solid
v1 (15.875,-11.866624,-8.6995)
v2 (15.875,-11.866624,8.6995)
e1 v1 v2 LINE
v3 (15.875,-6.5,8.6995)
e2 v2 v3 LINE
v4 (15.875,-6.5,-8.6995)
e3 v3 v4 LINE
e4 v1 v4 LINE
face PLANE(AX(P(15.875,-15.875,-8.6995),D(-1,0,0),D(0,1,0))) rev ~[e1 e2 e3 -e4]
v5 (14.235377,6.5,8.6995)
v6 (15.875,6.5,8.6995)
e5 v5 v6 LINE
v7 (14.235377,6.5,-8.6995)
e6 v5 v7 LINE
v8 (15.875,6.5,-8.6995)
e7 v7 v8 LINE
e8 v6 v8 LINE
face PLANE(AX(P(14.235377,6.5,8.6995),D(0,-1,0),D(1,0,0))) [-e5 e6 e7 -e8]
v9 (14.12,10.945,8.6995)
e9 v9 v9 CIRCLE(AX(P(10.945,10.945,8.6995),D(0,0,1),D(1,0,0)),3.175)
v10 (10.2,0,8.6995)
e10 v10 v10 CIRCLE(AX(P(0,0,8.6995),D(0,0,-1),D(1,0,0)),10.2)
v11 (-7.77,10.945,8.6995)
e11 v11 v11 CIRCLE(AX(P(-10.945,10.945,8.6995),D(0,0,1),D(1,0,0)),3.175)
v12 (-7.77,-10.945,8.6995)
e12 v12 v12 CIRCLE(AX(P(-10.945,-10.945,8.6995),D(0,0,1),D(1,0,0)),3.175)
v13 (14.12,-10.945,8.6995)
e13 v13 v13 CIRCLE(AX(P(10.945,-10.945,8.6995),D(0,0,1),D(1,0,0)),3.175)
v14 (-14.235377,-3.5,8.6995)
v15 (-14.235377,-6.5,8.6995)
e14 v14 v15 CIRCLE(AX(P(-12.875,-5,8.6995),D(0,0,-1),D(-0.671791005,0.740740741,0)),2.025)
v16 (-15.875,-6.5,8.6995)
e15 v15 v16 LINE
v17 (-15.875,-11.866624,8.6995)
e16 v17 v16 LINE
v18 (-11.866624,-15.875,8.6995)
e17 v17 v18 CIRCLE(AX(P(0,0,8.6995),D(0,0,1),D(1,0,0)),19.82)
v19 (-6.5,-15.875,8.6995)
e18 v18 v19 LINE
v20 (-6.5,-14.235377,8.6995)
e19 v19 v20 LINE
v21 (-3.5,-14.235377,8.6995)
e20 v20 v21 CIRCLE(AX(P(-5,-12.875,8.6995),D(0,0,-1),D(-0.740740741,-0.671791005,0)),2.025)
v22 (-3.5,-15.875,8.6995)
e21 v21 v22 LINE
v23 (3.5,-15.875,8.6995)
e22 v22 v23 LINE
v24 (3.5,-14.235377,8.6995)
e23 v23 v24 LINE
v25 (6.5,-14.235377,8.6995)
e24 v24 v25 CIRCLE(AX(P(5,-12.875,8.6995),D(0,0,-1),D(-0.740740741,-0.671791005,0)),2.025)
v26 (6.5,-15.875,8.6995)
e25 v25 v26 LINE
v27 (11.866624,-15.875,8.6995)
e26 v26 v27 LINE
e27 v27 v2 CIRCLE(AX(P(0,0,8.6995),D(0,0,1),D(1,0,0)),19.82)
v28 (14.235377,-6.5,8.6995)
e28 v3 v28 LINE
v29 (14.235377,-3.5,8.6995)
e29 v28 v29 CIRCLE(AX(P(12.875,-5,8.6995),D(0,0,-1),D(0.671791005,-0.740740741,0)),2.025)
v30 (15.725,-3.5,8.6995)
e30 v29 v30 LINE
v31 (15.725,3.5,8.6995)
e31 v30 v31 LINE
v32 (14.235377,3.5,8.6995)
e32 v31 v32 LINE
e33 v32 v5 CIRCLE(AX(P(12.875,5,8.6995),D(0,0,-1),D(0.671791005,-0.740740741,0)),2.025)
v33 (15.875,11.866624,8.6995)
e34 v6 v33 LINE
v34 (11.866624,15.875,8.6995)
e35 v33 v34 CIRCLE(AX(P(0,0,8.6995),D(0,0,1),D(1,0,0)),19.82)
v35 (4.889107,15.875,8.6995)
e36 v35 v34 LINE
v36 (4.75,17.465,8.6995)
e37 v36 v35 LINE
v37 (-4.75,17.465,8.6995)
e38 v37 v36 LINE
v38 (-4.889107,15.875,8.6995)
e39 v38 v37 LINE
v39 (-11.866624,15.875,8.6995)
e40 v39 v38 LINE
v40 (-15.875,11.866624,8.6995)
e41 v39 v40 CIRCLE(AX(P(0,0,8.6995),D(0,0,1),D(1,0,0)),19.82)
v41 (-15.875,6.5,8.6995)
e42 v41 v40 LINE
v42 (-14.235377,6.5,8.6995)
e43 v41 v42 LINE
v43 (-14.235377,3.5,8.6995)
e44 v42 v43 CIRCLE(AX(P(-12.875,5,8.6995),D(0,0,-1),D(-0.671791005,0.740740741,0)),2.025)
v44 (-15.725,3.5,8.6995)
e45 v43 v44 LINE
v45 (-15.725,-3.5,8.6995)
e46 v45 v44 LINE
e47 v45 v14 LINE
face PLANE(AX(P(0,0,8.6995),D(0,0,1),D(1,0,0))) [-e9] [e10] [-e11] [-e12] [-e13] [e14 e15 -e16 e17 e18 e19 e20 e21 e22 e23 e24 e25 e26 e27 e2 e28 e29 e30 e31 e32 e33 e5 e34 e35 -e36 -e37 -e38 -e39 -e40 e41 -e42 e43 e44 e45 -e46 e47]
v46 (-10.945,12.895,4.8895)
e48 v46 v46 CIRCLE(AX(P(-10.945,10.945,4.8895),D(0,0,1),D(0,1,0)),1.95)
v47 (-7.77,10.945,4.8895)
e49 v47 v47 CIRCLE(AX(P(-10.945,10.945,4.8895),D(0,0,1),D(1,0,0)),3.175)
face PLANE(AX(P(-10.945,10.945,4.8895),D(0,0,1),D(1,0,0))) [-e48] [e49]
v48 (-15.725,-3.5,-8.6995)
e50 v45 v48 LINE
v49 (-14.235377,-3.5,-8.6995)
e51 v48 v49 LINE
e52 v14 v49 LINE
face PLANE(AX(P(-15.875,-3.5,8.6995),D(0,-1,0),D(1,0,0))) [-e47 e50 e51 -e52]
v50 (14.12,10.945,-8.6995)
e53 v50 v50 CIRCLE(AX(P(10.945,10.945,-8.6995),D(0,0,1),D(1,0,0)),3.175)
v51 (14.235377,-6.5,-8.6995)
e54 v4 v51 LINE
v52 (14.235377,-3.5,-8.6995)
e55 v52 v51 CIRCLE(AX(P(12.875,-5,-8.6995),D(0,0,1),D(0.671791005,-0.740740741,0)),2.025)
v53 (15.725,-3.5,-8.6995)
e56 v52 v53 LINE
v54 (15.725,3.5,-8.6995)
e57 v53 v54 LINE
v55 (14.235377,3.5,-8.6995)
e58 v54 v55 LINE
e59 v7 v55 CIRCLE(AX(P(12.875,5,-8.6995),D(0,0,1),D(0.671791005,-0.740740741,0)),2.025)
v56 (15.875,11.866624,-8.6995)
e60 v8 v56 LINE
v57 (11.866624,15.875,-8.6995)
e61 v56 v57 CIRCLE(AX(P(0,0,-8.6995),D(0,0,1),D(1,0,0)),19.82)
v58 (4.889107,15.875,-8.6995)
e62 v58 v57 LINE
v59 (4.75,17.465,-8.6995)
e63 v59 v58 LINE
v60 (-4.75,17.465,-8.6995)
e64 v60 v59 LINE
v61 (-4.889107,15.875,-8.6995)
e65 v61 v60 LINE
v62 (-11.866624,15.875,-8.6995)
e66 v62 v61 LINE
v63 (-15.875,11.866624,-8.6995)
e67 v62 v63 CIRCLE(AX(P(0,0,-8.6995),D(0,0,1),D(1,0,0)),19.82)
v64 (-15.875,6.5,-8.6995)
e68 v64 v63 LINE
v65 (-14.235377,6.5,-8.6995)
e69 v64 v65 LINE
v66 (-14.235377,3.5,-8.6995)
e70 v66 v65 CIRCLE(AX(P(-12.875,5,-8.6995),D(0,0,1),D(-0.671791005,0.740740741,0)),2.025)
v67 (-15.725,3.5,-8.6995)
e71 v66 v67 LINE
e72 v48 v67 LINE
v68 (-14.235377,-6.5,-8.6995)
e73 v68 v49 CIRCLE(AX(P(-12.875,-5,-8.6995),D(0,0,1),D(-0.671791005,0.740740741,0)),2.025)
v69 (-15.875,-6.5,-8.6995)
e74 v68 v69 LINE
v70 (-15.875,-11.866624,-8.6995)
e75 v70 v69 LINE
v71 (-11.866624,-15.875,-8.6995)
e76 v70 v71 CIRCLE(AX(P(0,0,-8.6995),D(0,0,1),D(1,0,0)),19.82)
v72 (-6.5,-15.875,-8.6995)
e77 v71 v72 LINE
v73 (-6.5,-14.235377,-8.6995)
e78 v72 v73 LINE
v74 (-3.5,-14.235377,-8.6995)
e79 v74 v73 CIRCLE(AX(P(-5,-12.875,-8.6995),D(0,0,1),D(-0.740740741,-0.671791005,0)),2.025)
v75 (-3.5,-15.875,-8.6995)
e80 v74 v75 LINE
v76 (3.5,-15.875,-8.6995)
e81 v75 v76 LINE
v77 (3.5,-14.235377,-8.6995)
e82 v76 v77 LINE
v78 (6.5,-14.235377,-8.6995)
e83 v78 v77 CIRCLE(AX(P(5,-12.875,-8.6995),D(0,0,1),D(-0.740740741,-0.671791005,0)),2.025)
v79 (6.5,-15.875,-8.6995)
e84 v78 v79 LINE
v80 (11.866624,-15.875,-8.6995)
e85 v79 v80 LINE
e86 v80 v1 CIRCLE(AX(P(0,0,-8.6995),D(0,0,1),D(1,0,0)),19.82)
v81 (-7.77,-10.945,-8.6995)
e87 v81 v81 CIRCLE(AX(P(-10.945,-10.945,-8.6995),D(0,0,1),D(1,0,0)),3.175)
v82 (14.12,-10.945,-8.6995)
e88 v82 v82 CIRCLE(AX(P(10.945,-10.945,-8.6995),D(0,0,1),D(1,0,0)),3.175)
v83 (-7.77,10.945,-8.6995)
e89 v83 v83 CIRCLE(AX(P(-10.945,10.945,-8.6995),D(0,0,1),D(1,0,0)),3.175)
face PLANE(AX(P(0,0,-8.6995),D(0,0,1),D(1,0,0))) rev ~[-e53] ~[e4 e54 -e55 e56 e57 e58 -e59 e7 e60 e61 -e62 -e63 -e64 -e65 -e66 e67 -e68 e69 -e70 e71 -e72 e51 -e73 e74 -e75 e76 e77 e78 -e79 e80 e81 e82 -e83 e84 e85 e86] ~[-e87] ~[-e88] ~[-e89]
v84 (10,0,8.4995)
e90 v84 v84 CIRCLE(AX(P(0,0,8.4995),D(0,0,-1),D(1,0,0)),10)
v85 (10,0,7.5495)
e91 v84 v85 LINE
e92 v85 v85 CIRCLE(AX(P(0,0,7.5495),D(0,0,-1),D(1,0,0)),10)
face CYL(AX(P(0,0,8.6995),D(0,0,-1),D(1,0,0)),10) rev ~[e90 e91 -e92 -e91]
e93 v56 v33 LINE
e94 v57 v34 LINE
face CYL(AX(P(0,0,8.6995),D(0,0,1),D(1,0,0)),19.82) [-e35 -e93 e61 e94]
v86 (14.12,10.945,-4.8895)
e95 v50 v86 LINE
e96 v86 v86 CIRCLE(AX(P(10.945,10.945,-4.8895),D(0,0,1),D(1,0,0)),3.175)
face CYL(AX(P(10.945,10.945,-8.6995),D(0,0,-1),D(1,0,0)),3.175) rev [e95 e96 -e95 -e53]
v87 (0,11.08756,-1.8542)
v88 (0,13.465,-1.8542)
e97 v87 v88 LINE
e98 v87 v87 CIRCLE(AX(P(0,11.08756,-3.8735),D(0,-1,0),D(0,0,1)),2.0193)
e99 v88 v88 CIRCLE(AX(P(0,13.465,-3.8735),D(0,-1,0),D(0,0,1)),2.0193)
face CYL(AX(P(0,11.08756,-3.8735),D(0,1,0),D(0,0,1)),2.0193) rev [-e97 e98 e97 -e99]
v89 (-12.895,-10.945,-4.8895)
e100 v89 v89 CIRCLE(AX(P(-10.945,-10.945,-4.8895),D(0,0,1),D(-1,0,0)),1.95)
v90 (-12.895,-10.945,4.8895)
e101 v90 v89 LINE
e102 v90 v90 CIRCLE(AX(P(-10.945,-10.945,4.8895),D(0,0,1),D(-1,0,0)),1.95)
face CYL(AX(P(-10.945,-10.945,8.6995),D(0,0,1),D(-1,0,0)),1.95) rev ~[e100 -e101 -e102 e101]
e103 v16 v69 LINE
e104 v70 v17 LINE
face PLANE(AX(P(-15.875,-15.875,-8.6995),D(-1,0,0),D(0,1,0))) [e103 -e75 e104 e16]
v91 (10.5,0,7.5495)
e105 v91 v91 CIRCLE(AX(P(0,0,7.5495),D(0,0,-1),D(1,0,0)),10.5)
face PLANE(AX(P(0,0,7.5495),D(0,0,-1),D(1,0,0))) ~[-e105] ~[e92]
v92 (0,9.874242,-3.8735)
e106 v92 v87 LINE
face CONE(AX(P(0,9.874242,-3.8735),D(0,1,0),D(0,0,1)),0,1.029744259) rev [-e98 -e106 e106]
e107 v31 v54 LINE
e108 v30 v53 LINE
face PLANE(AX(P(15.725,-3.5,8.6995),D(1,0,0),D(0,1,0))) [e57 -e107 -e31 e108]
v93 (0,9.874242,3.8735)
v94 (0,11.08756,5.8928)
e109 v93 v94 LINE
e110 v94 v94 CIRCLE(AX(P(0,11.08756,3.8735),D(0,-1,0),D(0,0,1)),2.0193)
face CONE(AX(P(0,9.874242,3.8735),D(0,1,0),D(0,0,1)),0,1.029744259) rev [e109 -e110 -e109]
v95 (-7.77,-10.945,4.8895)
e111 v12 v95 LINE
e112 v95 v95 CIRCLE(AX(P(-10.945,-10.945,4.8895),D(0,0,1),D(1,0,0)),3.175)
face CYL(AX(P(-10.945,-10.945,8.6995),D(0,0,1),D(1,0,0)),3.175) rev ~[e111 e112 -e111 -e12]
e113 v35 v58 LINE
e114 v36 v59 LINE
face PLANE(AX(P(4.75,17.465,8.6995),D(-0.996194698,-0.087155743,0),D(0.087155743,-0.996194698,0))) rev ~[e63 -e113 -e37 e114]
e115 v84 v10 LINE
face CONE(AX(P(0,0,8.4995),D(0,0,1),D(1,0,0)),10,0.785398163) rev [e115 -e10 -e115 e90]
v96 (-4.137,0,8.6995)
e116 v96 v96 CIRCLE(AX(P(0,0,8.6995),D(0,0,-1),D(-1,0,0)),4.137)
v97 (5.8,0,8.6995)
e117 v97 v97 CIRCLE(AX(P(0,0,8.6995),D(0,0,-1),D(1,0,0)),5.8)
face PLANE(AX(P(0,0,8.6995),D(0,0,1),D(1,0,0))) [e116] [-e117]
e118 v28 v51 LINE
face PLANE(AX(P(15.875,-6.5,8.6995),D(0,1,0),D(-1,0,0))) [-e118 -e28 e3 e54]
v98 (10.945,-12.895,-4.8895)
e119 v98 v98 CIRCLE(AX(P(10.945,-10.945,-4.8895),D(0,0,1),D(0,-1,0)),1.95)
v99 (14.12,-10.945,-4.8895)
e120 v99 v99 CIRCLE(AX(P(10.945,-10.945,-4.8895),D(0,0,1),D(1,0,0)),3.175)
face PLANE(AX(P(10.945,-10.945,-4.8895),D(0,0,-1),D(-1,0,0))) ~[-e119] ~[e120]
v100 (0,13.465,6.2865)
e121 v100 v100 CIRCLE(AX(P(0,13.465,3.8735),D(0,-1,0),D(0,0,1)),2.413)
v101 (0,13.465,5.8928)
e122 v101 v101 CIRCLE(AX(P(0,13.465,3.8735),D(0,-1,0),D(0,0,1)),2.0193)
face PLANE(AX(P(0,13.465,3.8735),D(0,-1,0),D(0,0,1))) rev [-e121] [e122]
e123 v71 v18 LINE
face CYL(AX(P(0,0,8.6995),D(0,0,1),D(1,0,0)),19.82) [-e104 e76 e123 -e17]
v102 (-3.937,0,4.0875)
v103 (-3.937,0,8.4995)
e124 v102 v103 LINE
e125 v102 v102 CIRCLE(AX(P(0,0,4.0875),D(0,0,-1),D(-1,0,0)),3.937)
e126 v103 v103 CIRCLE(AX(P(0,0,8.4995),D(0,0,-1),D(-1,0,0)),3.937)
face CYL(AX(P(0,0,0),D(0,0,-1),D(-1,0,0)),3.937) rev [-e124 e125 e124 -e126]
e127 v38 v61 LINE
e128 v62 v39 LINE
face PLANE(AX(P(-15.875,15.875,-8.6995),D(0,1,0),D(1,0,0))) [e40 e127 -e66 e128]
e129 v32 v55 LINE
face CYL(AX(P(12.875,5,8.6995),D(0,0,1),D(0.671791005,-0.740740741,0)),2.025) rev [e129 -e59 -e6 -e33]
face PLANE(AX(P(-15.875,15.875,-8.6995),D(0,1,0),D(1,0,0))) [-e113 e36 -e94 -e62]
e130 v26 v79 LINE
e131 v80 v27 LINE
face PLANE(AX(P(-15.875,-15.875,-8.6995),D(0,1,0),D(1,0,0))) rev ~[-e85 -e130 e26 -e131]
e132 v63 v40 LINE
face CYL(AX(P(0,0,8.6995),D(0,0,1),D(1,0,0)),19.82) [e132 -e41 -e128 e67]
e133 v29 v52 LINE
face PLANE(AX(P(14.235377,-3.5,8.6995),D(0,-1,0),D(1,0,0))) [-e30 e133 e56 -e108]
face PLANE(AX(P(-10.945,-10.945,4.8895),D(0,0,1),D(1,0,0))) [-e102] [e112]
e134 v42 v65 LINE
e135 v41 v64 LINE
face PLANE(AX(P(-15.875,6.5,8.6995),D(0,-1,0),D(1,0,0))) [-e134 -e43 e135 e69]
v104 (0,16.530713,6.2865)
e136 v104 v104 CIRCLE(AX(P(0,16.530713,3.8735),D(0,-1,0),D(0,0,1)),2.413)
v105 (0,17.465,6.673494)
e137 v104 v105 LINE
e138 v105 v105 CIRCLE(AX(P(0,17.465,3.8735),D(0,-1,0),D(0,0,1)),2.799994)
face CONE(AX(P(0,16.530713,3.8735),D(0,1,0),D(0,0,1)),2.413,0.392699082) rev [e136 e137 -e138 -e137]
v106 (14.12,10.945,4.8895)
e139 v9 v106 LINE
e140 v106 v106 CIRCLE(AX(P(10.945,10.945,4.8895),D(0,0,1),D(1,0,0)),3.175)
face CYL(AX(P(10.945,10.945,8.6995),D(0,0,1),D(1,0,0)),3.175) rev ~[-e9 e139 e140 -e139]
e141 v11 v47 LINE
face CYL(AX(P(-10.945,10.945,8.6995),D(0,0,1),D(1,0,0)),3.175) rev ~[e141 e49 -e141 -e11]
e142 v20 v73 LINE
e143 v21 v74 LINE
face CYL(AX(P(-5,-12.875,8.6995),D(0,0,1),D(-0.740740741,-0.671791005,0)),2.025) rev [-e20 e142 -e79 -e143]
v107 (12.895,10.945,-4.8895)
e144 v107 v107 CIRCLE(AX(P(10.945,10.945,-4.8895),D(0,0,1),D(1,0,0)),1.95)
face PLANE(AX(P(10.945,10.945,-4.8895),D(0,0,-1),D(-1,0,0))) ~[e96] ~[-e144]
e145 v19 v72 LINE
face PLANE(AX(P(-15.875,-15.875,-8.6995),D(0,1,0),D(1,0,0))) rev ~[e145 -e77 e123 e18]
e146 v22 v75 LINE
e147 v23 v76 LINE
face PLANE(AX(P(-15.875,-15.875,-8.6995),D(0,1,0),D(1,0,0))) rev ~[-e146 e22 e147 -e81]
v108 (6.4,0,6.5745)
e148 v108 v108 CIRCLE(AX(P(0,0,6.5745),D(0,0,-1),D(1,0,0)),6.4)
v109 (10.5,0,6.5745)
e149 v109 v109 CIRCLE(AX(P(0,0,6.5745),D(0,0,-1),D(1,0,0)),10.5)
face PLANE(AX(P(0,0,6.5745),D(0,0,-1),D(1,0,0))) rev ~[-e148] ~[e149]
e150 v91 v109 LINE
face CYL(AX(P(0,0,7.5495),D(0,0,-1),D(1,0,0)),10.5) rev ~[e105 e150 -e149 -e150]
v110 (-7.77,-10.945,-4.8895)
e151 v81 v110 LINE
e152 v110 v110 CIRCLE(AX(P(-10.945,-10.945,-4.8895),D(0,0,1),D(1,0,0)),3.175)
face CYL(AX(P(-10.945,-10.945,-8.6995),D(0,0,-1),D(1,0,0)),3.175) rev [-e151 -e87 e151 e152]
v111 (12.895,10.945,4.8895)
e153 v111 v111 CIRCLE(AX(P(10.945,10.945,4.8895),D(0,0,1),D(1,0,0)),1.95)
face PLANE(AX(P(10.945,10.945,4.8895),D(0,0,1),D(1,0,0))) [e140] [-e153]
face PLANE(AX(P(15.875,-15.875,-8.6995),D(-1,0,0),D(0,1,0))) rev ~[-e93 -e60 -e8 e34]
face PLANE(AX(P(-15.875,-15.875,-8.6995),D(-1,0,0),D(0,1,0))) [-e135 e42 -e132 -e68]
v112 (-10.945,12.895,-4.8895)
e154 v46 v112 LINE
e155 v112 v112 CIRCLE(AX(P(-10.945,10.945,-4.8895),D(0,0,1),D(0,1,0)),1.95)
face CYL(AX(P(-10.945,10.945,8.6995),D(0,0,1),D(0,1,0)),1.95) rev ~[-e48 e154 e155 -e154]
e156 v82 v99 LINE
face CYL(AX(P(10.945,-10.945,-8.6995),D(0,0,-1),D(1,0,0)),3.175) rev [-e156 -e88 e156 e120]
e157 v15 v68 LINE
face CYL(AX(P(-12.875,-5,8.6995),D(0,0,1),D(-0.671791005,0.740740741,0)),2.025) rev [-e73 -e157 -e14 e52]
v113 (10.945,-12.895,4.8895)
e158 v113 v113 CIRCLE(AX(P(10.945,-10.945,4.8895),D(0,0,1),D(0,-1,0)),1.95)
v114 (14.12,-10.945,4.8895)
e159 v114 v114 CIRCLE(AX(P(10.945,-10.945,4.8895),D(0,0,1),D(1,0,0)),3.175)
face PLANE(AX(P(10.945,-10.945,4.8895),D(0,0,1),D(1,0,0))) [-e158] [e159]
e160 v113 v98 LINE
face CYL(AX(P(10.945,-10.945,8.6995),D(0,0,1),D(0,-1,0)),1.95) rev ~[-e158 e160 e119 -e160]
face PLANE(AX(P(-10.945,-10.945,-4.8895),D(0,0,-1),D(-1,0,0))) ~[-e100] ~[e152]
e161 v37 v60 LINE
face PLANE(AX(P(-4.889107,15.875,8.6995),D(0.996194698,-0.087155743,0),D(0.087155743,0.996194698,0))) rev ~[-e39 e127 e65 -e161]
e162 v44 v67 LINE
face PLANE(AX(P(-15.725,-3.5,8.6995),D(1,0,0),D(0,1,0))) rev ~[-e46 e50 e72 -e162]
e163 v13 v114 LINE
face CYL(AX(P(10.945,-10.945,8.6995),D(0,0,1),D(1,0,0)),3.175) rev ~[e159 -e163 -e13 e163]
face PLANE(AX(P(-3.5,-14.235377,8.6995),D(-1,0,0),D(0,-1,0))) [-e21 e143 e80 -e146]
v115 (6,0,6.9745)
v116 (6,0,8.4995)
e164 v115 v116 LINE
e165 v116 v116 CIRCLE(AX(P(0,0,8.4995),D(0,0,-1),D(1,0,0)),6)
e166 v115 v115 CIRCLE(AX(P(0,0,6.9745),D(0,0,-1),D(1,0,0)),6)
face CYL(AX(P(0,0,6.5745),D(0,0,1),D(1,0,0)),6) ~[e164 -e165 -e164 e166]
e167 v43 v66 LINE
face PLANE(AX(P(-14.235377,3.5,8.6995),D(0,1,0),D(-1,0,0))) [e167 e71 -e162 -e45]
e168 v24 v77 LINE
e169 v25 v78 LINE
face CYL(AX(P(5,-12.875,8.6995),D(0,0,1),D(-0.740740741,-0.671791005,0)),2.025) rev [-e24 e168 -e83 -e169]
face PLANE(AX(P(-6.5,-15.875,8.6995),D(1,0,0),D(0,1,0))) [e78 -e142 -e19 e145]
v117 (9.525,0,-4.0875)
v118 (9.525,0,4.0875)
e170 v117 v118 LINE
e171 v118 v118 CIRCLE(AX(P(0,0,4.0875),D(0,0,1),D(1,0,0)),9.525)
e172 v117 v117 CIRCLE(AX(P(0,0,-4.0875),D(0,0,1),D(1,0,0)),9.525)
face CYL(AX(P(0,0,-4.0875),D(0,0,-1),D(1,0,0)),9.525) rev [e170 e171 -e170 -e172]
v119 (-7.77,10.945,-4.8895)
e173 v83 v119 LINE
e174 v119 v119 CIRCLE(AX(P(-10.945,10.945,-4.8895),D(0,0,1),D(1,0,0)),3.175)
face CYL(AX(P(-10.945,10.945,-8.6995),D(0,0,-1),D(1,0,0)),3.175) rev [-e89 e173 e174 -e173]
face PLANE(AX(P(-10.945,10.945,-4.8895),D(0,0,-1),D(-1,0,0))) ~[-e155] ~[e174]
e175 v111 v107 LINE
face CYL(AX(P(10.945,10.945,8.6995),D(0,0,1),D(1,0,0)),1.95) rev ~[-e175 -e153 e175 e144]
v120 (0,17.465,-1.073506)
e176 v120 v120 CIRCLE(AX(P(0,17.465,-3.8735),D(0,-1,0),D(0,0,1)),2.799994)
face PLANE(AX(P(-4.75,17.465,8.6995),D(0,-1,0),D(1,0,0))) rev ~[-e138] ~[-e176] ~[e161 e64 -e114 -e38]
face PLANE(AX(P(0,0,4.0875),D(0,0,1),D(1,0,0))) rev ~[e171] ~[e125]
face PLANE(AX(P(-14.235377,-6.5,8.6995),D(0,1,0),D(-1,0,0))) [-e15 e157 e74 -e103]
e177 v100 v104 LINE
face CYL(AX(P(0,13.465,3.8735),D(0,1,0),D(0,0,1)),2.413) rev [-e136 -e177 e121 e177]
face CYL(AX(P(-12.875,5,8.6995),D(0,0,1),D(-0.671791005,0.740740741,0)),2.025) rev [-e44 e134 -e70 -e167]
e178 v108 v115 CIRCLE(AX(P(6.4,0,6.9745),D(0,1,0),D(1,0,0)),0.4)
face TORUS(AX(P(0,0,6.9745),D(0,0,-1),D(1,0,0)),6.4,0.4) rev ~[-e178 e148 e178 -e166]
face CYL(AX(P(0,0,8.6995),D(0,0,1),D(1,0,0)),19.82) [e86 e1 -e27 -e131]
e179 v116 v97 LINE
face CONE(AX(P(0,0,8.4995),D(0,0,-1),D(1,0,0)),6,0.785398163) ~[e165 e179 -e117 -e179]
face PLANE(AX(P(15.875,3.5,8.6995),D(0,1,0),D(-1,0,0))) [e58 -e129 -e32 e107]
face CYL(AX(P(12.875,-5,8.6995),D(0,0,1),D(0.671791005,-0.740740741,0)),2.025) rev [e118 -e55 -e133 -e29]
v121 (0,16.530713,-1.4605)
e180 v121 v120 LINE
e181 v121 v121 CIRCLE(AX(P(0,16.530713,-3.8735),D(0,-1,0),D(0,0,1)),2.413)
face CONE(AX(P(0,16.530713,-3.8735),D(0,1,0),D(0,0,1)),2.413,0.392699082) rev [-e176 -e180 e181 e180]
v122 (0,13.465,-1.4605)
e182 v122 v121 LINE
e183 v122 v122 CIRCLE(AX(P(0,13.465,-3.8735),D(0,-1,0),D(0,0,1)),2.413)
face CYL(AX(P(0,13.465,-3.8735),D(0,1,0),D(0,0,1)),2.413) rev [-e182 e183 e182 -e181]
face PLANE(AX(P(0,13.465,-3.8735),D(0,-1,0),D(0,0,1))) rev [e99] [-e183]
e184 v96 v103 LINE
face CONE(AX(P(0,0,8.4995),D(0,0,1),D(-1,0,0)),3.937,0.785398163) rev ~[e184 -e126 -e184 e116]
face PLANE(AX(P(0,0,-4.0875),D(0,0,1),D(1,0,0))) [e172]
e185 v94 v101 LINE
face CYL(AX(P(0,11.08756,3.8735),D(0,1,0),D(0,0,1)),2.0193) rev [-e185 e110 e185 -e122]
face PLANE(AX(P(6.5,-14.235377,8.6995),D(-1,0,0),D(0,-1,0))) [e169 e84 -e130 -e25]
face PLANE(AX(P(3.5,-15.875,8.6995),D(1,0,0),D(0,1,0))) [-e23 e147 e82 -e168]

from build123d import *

# Parameters (mm, degrees)
EXTRUDE1_DEPTH                               = 8.6995
EXTRUDE1_DEPTH_BACK                          = 8.6995
SKETCH1_W                                    = 31.75
SKETCH1_H                                    = 31.75
F_056_250_NOSE_CHAMFER_R                     = 0.4
SKETCH13_R                                   = 22.450640303
SKETCH13_R_2                                 = 19.82
F_075_250_TUBE_EDGE_ROUNDOVER_DEPTH          = 29.403458434
F_075_250_PORT_BOSS_DEPTH                    = 17.399
F_075_PORT_10_32_AT_2_COUNT                  = 2
F_075_PORT_10_32_AT_2_PITCH                  = 7.747
F_075_250_SWITCH_GROOVE_DEPTH                = 30.321784581
F_075_106_SWITCH_GROOVE_CIRC_PATTERN_COUNT   = 3
F_075_106_SWITCH_GROOVE_CIRC_PATTERN_ANGLE   = 180
SKETCH19_W                                   = 0.15
SKETCH19_H                                   = 7
F_075_250_THIN_SIDE_CUTS_DEPTH               = 30.321784581
SKETCH20_R                                   = 1.95
F_075_250_MOUNT_THRU_HOLE_DEPTH              = 30.321784581
F_075_250_MOUNT_THRU_HOLE_CIRC_PATTERN_COUNT = 4
SKETCH21_R                                   = 3.175
F_075_250_B_MOUNT_CBORE_ROD_END_DEPTH        = 3.81
F_056_250_START                              = -4.0875
SKETCH22_R                                   = 9.525
F_056_250_STROKE_CHAMBER_DEPTH               = 8.175
SKETCH23_R                                   = 3.937
F_056_250_ROD_THRU_BORE_DEPTH                = 26.153988754
F_056_250_COLLAR_CHAMFER_SIZE                = 0.2


with BuildPart() as part:
    # Sketch1 → Extrude1 (new, two sides: drawn at the far end of the back side and taken through both)
    with BuildSketch(Plane.XY.offset(-EXTRUDE1_DEPTH_BACK)):
        Rectangle(SKETCH1_W, SKETCH1_H)
    extrude(amount=EXTRUDE1_DEPTH + EXTRUDE1_DEPTH_BACK)

    # Sketch33 → 056-250 Front Recess (revolve, cut)
    with BuildSketch(Plane(origin=(0, 0, 0), x_dir=(0, 0, -1), z_dir=(1, 0, 0)), mode=Mode.PRIVATE) as f_056_250_front_recess_sk:
        Polygon((-8.6995, 10), (-7.5495, 10), (-7.5495, 10.5), (-6.5745, 10.5), (-6.5745, 6), (-8.6995, 6), align=None)
    revolve(f_056_250_front_recess_sk.sketch.rotate(Axis((0, 0, 61.220394237), (0, 0, -1)), 90), axis=Axis((0, 0, 61.220394237), (0, 0, -1)), mode=Mode.SUBTRACT)

    # 056-250 Nose Chamfer
    f_056_250_nose_chamfer_edges = [part.edges().sort_by_distance(p)[0] for p in [
        (-6, 0, 6.5745),
    ]]
    fillet(f_056_250_nose_chamfer_edges, radius=F_056_250_NOSE_CHAMFER_R)

    # Sketch13 → 075-250 Tube Edge Roundover (cut, through all)
    with BuildSketch(Plane.XY.offset(8.6995)):
        Circle(SKETCH13_R)
        Circle(SKETCH13_R_2, mode=Mode.SUBTRACT)
    extrude(amount=-F_075_250_TUBE_EDGE_ROUNDOVER_DEPTH, mode=Mode.SUBTRACT)

    # Sketch14 → 075-250 Port Boss (add)
    with BuildSketch(Plane.XY.offset(8.6995)):
        Polygon((-4.75, 17.465), (4.75, 17.465), (4.889106975, 15.875), (-4.889106975, 15.875), align=None)
    extrude(amount=-F_075_250_PORT_BOSS_DEPTH)

    # Sketch35 → 075  Port #10-32 (revolve, cut)
    with BuildSketch(Plane(origin=(0, 17.465, 3.8735), x_dir=(0, 0, 1), z_dir=(1, 0, 0))):
        Polygon((0, 0), (0, 7.590757848), (2.0193, 6.37744), (2.0193, 4), (2.413, 4), (2.413, 0.934287129), (2.7999944, 0), align=None)
    f_075_port_10_32 = revolve(axis=Axis((0, 23.815, 3.8735), (0, -1, 0)), mode=Mode.SUBTRACT)

    # 075  Port #10-32 at 2: 075  Port #10-32 ×2
    with Locations(*[(0, 0, -i * F_075_PORT_10_32_AT_2_PITCH) for i in range(1, F_075_PORT_10_32_AT_2_COUNT)]):
        add(f_075_port_10_32, mode=Mode.SUBTRACT)

    # Sketch15 → 075-250 Switch Groove (cut, through all)
    with BuildSketch(Plane.XY.offset(8.6995)):
        with BuildLine():
            Line((-15.875, 6.5), (-14.235376786, 6.5))
            ThreePointArc((-14.235376786, 6.5), (-10.85, 5), (-14.235376786, 3.5))
            Line((-14.235376786, 3.5), (-15.875, 3.5))
            Line((-15.875, 3.5), (-15.875, 6.5))
        make_face()
        with BuildLine():
            Line((-15.875, -6.5), (-15.875, -3.5))
            Line((-15.875, -3.5), (-14.235376786, -3.5))
            ThreePointArc((-14.235376786, -3.5), (-10.85, -5), (-14.235376786, -6.5))
            Line((-14.235376786, -6.5), (-15.875, -6.5))
        make_face()
    f_075_250_switch_groove = extrude(amount=-F_075_250_SWITCH_GROOVE_DEPTH, mode=Mode.SUBTRACT)

    # 075-106 Switch Groove Circ Pattern: 075-250 Switch Groove ×3 about axis
    f_075_106_switch_groove_circ_pattern_axis = Axis((0, 0, 0), (0, 0, 1))
    for i in range(1, F_075_106_SWITCH_GROOVE_CIRC_PATTERN_COUNT):
        add(f_075_250_switch_groove.rotate(f_075_106_switch_groove_circ_pattern_axis, i * F_075_106_SWITCH_GROOVE_CIRC_PATTERN_ANGLE / (F_075_106_SWITCH_GROOVE_CIRC_PATTERN_COUNT - 1)), mode=Mode.SUBTRACT)

    # Sketch19 → 075-250 Thin Side Cuts (cut, through all)
    with BuildSketch(Plane.XY.offset(8.6995)):
        with Locations((15.8, 0)):
            Rectangle(SKETCH19_W, SKETCH19_H)
        with Locations((-15.8, 0)):
            Rectangle(SKETCH19_W, SKETCH19_H)
    extrude(amount=-F_075_250_THIN_SIDE_CUTS_DEPTH, mode=Mode.SUBTRACT)

    # Sketch20 → 075-250 Mount Thru Hole (cut, through all)
    with BuildSketch(Plane.XY.offset(8.6995)):
        with Locations((10.945, 10.945)):
            Circle(SKETCH20_R)
    f_075_250_mount_thru_hole = extrude(amount=-F_075_250_MOUNT_THRU_HOLE_DEPTH, mode=Mode.SUBTRACT)

    # 075-250 Mount Thru Hole Circ Pattern: 075-250 Mount Thru Hole ×4 about axis
    f_075_250_mount_thru_hole_circ_pattern_axis = Axis((0, 0, 0), (0, 0, 1))
    for i in range(1, F_075_250_MOUNT_THRU_HOLE_CIRC_PATTERN_COUNT):
        add(f_075_250_mount_thru_hole.rotate(f_075_250_mount_thru_hole_circ_pattern_axis, i * 360 / F_075_250_MOUNT_THRU_HOLE_CIRC_PATTERN_COUNT), mode=Mode.SUBTRACT)

    # Sketch21 → 075-250 B Mount CBore Rod End (cut)
    with BuildSketch(Plane.XY.offset(8.6995)):
        with Locations((-10.945, 10.945)):
            Circle(SKETCH21_R)
        with Locations((-10.945, -10.945)):
            Circle(SKETCH21_R)
        with Locations((10.945, 10.945)):
            Circle(SKETCH21_R)
        with Locations((10.945, -10.945)):
            Circle(SKETCH21_R)
    f_075_250_b_mount_cbore_rod_end = extrude(amount=-F_075_250_B_MOUNT_CBORE_ROD_END_DEPTH, mode=Mode.SUBTRACT)

    # 075-250 B Mount CBore Non-Rod End: 075-250 B Mount CBore Rod End across plane
    add(f_075_250_b_mount_cbore_rod_end.mirror(Plane.XY), mode=Mode.SUBTRACT)

    # Sketch22 → 056-250 Stroke Chamber (cut)
    with BuildSketch(Plane.XY.offset(F_056_250_START)):
        Circle(SKETCH22_R)
    extrude(amount=F_056_250_STROKE_CHAMBER_DEPTH, mode=Mode.SUBTRACT)

    # Sketch23 → 056-250 Rod Thru Bore (cut, through all)
    with BuildSketch(Plane.XY):
        with Locations(Location((0, 0, 0), (0, 0, 180))):
            Circle(SKETCH23_R)
    extrude(amount=F_056_250_ROD_THRU_BORE_DEPTH, mode=Mode.SUBTRACT)

    # 056-250 Collar Chamfer
    f_056_250_collar_chamfer_edges = [part.edges().sort_by_distance(p)[0] for p in [
        (-10, 0, 8.6995),
        (-6, 0, 8.6995),
        (3.937, 0, 8.6995),
    ]]
    chamfer(f_056_250_collar_chamfer_edges, length=F_056_250_COLLAR_CHAMFER_SIZE)


solid = part.part
